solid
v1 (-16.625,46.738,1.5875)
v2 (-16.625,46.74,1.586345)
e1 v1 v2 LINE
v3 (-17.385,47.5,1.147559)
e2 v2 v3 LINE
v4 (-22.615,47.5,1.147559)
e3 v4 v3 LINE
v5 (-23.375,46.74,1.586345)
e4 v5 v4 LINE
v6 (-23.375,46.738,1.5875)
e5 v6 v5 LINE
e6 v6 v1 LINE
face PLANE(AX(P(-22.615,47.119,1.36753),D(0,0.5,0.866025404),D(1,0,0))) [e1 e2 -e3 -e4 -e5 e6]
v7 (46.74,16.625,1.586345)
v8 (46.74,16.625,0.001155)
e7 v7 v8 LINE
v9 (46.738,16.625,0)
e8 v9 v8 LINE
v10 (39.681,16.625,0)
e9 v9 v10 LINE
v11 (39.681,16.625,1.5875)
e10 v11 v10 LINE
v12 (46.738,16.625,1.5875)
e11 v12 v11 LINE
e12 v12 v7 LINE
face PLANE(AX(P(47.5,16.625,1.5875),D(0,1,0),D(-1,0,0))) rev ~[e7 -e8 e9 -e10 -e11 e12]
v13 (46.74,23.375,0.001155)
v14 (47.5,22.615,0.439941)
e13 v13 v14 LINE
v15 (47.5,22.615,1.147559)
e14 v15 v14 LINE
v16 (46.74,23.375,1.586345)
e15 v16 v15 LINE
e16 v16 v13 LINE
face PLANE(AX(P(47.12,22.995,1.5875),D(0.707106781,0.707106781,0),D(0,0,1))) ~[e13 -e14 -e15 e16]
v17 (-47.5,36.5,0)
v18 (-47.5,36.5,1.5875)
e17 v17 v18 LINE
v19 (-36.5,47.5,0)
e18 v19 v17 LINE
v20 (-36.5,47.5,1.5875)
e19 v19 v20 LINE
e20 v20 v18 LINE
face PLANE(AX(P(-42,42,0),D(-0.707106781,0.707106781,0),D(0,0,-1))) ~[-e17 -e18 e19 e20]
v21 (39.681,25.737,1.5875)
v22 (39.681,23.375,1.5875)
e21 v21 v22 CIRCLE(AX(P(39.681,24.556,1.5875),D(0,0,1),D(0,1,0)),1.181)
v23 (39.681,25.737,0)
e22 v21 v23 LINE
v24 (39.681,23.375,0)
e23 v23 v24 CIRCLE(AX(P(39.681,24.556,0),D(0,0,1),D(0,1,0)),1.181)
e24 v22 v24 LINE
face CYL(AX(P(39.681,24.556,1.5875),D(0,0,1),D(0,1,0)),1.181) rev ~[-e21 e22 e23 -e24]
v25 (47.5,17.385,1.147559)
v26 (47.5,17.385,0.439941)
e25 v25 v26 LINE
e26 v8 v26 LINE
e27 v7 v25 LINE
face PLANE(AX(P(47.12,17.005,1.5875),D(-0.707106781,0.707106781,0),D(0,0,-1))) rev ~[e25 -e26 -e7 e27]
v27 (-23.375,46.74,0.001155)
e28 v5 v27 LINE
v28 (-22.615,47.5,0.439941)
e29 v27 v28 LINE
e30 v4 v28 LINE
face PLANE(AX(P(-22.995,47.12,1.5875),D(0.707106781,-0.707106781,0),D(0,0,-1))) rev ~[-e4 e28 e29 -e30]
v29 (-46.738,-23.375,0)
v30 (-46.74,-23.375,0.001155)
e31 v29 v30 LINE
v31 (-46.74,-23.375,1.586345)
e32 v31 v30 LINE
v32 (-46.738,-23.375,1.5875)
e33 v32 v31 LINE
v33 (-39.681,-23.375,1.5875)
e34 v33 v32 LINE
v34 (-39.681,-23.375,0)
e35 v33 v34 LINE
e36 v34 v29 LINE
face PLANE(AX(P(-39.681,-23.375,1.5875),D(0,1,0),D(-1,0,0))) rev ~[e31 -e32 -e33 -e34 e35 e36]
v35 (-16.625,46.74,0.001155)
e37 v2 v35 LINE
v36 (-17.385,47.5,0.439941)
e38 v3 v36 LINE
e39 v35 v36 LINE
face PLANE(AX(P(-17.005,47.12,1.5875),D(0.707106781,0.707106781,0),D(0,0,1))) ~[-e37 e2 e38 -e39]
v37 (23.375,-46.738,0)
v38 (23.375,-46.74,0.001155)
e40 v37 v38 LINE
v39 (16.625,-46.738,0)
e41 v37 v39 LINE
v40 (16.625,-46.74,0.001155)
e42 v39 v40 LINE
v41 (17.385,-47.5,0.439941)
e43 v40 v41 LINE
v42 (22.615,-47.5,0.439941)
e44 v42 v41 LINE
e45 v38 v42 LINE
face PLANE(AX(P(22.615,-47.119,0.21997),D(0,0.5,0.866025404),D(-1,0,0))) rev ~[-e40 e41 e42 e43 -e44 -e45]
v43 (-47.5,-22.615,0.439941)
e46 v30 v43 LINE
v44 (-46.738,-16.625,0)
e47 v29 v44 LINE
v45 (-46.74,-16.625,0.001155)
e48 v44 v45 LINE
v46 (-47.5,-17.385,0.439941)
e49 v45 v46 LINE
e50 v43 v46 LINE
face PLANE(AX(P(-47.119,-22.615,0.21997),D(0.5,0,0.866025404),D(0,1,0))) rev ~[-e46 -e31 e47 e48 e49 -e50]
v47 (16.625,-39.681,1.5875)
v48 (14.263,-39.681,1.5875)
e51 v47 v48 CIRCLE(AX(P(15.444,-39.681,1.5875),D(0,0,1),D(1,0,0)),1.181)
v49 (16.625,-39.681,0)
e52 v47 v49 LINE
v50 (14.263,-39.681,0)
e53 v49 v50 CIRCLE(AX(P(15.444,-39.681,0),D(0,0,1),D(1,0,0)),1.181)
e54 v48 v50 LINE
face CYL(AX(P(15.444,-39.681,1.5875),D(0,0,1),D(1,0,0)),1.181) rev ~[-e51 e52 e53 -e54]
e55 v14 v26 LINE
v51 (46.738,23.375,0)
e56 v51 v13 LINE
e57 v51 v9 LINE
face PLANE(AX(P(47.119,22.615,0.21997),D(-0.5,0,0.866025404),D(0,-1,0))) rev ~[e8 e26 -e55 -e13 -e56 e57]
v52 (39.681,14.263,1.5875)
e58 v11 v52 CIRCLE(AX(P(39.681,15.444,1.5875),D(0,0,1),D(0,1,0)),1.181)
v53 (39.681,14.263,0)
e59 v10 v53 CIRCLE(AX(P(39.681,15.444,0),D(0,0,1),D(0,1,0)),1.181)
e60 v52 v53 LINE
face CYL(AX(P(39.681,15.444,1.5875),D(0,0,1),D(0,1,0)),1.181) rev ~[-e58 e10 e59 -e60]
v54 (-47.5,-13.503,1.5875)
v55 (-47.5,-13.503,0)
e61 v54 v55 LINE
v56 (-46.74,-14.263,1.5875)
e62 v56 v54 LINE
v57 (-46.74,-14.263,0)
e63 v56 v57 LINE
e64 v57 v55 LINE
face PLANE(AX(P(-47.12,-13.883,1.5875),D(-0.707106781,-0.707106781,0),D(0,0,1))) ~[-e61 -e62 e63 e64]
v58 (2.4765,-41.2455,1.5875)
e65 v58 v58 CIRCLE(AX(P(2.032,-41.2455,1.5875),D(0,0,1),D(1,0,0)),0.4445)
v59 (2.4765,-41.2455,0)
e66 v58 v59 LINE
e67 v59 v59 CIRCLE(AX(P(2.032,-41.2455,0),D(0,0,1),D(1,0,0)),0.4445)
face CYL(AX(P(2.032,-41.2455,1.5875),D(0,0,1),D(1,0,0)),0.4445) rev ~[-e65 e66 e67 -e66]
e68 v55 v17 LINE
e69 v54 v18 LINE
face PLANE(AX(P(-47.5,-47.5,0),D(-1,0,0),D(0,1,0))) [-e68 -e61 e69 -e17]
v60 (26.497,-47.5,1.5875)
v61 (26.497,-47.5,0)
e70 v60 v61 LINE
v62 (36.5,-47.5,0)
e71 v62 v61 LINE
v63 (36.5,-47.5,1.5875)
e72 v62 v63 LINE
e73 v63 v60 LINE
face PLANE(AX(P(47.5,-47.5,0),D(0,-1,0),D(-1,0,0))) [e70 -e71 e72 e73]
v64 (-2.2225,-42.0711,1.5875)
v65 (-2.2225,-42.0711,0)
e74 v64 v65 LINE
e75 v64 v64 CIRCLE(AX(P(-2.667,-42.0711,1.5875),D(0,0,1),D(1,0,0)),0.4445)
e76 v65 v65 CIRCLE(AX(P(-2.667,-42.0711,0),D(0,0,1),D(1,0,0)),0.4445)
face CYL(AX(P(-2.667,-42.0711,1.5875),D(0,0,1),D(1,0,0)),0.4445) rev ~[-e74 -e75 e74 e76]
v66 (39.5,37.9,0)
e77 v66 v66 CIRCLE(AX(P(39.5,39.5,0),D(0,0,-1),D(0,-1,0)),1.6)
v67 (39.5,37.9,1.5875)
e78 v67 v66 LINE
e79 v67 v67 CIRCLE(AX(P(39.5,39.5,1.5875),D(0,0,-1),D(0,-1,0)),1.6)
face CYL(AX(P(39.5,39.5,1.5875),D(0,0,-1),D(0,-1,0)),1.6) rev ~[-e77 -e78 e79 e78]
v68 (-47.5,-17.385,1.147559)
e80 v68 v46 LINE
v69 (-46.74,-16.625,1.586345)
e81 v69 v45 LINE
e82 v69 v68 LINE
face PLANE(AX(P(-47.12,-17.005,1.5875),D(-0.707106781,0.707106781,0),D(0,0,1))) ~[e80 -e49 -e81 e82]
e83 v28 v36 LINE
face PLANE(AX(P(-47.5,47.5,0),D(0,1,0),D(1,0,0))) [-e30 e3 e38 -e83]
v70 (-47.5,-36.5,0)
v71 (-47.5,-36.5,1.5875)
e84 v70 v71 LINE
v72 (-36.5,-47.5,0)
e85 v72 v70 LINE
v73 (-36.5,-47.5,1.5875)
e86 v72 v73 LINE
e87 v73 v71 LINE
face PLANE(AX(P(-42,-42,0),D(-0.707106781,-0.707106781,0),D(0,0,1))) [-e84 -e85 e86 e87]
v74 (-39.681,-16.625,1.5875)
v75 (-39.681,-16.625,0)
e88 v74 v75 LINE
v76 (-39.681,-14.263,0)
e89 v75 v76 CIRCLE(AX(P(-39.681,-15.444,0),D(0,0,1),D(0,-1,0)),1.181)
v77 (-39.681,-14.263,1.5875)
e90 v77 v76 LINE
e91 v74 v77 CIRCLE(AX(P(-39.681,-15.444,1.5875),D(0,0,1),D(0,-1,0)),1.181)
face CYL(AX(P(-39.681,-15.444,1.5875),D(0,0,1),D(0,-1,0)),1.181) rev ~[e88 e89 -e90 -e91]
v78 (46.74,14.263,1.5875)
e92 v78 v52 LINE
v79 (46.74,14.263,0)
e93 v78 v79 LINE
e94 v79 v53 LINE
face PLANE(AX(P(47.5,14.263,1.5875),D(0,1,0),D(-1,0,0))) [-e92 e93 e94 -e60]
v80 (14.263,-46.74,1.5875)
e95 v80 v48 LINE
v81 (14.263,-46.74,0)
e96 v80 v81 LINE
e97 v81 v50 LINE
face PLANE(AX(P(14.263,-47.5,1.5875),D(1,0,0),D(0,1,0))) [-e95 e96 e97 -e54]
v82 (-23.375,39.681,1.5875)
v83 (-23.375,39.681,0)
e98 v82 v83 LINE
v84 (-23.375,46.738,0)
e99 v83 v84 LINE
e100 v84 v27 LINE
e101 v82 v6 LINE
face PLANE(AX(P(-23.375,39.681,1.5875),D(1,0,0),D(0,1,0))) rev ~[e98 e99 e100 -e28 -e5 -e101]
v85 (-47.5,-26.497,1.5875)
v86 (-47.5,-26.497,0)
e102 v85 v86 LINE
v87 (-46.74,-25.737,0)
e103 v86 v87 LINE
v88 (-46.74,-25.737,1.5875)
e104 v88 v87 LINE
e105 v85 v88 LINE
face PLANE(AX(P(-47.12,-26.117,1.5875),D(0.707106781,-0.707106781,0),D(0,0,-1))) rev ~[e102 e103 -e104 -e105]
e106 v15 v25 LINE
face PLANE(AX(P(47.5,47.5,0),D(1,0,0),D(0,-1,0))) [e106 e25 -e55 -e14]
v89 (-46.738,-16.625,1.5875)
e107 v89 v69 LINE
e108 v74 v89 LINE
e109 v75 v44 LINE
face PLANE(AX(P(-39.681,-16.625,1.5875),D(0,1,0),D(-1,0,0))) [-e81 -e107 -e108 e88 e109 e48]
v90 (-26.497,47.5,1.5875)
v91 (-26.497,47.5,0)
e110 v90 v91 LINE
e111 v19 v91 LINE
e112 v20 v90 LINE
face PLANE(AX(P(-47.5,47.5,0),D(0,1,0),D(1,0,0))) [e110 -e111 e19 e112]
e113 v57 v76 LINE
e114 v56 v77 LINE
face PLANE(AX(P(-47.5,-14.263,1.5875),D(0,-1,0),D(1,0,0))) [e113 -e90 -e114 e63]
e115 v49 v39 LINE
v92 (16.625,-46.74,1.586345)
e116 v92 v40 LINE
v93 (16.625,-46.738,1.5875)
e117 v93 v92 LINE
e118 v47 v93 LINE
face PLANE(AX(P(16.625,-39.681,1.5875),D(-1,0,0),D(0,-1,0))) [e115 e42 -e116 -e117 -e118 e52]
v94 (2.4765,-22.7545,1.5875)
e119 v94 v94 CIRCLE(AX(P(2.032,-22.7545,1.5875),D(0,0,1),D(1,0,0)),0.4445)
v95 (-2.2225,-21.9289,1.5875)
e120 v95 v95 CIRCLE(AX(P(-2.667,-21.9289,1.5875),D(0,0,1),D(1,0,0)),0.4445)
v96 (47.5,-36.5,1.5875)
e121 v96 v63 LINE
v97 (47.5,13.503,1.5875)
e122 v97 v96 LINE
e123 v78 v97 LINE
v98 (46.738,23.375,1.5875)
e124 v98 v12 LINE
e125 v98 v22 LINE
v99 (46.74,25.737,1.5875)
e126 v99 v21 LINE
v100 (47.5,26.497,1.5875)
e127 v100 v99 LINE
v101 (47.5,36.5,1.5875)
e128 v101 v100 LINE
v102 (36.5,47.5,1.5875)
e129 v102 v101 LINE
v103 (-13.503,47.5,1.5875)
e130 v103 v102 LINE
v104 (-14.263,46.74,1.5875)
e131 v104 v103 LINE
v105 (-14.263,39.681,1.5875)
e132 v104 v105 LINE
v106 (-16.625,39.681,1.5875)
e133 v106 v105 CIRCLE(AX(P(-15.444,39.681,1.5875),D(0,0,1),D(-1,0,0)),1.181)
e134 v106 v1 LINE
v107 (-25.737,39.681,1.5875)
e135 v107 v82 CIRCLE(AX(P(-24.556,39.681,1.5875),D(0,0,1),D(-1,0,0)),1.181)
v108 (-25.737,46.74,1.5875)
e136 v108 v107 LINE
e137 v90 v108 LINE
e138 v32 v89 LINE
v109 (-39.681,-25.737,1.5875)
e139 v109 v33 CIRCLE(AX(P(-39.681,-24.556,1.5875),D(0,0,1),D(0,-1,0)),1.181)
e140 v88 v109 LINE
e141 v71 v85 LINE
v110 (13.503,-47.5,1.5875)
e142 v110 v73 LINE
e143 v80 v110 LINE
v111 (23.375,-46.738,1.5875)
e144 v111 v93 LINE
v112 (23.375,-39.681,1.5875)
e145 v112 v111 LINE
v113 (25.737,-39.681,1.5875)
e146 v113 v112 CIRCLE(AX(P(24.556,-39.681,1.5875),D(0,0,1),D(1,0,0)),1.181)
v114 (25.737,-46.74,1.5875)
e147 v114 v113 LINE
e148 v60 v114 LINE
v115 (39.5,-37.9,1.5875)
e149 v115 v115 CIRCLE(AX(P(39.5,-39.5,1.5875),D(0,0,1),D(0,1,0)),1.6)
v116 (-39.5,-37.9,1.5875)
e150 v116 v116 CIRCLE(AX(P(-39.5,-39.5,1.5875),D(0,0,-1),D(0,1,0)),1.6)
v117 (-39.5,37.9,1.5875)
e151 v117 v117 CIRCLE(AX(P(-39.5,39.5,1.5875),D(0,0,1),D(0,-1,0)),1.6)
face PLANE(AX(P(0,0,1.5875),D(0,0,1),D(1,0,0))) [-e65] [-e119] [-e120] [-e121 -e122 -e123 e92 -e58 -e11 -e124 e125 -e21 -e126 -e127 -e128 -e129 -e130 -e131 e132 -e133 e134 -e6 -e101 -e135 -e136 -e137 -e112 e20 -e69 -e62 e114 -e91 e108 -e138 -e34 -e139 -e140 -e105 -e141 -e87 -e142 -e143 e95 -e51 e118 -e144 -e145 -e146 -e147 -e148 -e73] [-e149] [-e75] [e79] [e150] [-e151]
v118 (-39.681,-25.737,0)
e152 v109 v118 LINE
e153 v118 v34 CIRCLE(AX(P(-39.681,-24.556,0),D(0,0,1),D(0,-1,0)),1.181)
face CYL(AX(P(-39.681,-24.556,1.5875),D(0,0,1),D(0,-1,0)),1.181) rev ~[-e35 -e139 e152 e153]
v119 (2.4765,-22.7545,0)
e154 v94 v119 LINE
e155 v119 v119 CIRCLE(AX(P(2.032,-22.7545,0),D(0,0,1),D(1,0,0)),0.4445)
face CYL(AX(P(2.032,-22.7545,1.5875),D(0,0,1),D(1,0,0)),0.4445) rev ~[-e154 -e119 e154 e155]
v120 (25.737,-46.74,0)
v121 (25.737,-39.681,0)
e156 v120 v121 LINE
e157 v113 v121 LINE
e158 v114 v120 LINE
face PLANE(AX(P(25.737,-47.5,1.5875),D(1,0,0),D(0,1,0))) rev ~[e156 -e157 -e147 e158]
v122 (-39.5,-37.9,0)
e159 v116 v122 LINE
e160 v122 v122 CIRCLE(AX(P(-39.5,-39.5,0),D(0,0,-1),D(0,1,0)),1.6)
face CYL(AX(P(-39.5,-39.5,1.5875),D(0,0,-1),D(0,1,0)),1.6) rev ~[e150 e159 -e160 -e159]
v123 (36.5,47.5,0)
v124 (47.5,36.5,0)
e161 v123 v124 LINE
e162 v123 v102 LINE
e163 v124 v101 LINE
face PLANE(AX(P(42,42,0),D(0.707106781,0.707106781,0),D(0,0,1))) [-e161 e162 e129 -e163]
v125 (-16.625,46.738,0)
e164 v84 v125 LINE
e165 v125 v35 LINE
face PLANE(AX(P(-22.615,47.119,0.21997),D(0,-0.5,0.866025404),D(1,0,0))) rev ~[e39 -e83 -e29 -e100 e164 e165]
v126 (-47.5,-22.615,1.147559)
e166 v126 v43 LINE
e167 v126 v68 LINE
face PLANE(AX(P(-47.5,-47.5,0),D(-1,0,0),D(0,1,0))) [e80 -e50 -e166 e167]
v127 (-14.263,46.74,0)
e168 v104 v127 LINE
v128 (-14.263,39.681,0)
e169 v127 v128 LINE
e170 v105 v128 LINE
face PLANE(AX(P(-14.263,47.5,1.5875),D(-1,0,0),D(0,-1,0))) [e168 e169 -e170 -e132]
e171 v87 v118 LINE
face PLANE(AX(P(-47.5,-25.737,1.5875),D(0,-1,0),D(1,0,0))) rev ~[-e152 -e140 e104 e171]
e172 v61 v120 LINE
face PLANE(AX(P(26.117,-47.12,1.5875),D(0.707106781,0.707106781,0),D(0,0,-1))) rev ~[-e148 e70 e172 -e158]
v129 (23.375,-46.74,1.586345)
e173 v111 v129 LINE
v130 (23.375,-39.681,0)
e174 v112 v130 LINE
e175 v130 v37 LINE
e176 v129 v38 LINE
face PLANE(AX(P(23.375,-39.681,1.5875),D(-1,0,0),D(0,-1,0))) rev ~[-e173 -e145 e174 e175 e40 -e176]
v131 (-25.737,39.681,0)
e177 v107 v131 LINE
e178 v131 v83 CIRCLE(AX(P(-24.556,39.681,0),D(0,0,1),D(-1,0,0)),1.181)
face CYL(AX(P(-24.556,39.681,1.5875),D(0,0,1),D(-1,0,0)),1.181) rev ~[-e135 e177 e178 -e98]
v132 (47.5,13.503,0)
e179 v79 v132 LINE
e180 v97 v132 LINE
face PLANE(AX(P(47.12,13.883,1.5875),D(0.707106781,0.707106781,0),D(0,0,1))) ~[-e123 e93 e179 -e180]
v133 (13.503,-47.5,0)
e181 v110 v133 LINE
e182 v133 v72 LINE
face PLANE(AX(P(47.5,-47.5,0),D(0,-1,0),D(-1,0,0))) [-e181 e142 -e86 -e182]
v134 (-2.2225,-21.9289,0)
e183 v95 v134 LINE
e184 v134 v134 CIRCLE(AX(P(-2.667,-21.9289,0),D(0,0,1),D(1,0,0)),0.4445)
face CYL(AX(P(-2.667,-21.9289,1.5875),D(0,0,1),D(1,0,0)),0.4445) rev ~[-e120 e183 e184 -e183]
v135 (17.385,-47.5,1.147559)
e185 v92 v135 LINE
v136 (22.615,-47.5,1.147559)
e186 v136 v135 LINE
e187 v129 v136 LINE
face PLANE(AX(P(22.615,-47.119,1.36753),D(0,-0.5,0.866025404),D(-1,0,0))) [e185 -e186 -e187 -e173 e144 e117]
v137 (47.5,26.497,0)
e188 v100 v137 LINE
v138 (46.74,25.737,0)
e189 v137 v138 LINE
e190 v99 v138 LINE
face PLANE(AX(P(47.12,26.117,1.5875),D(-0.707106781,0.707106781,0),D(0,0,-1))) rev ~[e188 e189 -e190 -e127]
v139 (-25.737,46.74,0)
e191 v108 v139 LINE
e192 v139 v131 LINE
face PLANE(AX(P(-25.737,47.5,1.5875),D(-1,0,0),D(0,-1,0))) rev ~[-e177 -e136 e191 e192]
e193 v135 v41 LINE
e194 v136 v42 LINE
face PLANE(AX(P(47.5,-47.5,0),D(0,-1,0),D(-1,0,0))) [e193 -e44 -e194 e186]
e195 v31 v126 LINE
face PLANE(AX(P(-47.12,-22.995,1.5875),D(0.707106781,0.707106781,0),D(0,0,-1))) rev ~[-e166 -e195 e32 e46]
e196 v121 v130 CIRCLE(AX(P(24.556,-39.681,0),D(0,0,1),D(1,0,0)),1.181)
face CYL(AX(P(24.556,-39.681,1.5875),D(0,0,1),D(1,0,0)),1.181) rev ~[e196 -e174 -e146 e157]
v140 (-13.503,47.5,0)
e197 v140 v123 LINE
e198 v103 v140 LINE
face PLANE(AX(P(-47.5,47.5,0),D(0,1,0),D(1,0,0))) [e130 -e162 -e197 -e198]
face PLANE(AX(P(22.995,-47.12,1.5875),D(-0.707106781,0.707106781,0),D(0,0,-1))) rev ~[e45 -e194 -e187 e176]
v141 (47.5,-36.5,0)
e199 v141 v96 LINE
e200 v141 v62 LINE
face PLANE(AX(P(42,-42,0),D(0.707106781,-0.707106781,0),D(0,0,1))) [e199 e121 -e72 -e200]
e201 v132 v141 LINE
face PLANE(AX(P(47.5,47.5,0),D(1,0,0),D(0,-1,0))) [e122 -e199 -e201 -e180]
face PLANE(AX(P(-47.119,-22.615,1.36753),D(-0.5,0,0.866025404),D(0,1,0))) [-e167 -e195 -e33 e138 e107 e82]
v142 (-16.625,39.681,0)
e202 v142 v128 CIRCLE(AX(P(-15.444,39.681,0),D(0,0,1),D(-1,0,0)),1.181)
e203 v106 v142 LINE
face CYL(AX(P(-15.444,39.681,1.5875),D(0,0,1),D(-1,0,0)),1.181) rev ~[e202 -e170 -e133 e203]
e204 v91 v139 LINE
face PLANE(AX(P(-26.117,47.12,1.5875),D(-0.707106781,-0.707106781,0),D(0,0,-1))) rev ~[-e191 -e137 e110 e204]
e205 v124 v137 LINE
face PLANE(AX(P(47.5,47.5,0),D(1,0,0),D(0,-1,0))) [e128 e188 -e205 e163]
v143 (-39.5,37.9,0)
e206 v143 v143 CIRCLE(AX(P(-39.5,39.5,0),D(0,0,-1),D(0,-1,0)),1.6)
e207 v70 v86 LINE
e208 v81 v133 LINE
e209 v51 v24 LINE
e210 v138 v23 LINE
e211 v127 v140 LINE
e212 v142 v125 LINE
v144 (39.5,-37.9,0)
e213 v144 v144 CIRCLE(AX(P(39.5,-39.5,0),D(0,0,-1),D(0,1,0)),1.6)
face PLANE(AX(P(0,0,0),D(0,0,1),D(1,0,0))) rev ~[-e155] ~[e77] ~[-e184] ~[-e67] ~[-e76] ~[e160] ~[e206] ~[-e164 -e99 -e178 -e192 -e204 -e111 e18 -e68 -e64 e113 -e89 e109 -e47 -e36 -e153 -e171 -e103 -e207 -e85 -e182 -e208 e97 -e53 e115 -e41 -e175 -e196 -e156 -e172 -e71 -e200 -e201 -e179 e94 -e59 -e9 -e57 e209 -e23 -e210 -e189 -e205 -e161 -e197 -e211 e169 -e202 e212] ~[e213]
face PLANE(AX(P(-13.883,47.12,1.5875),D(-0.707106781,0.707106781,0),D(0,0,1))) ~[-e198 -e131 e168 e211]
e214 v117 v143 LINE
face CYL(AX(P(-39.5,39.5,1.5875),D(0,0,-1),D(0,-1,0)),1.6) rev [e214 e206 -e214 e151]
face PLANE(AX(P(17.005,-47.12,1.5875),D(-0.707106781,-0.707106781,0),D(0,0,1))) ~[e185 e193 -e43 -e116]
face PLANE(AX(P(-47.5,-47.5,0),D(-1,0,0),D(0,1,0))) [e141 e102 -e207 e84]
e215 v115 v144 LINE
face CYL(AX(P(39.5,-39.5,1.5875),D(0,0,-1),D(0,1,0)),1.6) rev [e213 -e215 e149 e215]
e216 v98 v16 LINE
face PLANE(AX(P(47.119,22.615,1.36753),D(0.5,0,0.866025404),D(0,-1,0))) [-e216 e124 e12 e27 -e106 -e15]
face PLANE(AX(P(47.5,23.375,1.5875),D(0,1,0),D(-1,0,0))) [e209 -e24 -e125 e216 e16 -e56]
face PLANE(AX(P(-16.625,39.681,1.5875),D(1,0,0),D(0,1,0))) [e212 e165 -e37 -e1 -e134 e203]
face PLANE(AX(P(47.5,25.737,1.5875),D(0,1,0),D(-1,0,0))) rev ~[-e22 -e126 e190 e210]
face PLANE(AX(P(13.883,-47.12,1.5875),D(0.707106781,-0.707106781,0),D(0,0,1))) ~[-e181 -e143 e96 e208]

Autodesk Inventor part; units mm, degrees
sketch "AL_spacer_contact_Zminus" plane through (0, 0, 0) normal (0, 0, 1) x (1, 0, 0)
  circle A0 centre (39.5, 39.5) radius 3.175
  circle A1 centre (39.5, -39.5) radius 3.175
  circle A2 centre (-39.5, -39.5) radius 3.175
  circle A3 centre (-39.5, 39.5) radius 3.175
  point P0 (0, 0)
  dimension "d228" = 39.5
  dimension "d229" = 39.5
  dimension "d230" = 39.5
  dimension "d231" = 39.5
  dimension "d232" = 39.5
  dimension "d233" = 39.5
  dimension "d234" = 39.5
  dimension "d235" = 39.5
  dimension "d236" = 6.35
sketch "Delrin_stayout_Zminus" plane through (0, 0, 0) normal (0, 0, 1) x (1, 0, 0)
  line L0 (47.5, 39.5) -> (47.5, 31)
  line L1 (47.5, 31) -> (39.5, 31)
  line L2 (39.5, 31) -> (31, 39.5)
  line L3 (31, 39.5) -> (31, 47.5)
  line L4 (31, 47.5) -> (39.5, 47.5)
  line L5 (39.5, 47.5) -> (47.5, 39.5)
  line L6 (-39.5, 47.5) -> (-47.5, 39.5)
  line L7 (-47.5, 39.5) -> (-47.5, 31)
  line L8 (-47.5, 31) -> (-39.5, 31)
  line L9 (-39.5, 31) -> (-31, 39.5)
  line L10 (-31, 39.5) -> (-31, 47.5)
  line L11 (-31, 47.5) -> (-39.5, 47.5)
  line L12 (47.5, -39.5) -> (39.5, -47.5)
  line L13 (39.5, -47.5) -> (31, -47.5)
  line L14 (31, -47.5) -> (31, -39.5)
  line L15 (31, -39.5) -> (39.5, -31)
  line L16 (39.5, -31) -> (47.5, -31)
  line L17 (47.5, -31) -> (47.5, -39.5)
  line L18 (-39.5, -47.5) -> (-47.5, -39.5)
  line L19 (-47.5, -39.5) -> (-47.5, -31)
  line L20 (-47.5, -31) -> (-39.5, -31)
  line L21 (-39.5, -31) -> (-31, -39.5)
  line L22 (-31, -39.5) -> (-31, -47.5)
  line L23 (-31, -47.5) -> (-39.5, -47.5)
  point P0 (0, 0)
  dimension "d243" = 16.5
  dimension "d244" = 8
  dimension "d245" = 8.5
  dimension "d246" = 16.5
  dimension "d247" = 47.5
  dimension "d248" = 47.5
  dimension "d249" = 47.5
  dimension "d250" = 47.5
  dimension "d251" = 47.5
  dimension "d252" = 47.5
  dimension "d253" = 47.5
  dimension "d254" = 47.5
sketch "Nub_stayout_Zminus" plane through (0, 0, 0) normal (0, 0, 1) x (1, 0, 0)
  line L0 (29, 47.5) -> (39.5, 47.5)
  line L1 (39.5, 47.5) -> (47.5, 39.5)
  line L2 (47.5, 39.5) -> (47.5, 29)
  line L3 (47.5, 29) -> (42, 29)
  line L4 (42, 29) -> (42, 40.4125)
  line L5 (40.4125, 42) -> (29, 42)
  line L6 (29, 42) -> (29, 47.5)
  arc A0 (42, 40.4125) -> (40.4125, 42) centre (40.4125, 40.4125) ccw
  line L7 (-29, 47.5) -> (-39.5, 47.5)
  line L8 (-39.5, 47.5) -> (-47.5, 39.5)
  line L9 (-47.5, 39.5) -> (-47.5, 29)
  line L10 (-47.5, 29) -> (-42, 29)
  line L11 (-42, 29) -> (-42, 40.4125)
  line L12 (-40.4125, 42) -> (-29, 42)
  line L13 (-29, 42) -> (-29, 47.5)
  arc A1 (-40.4125, 42) -> (-42, 40.4125) centre (-40.4125, 40.4125) ccw
  line L14 (-47.5, -29) -> (-42, -29)
  line L15 (-42, -29) -> (-42, -40.4125)
  line L16 (-40.4125, -42) -> (-29, -42)
  line L17 (-29, -42) -> (-29, -47.5)
  line L18 (-29, -47.5) -> (-39.5, -47.5)
  line L19 (-39.5, -47.5) -> (-47.5, -39.5)
  line L20 (-47.5, -39.5) -> (-47.5, -29)
  arc A2 (-42, -40.4125) -> (-40.4125, -42) centre (-40.4125, -40.4125) ccw
  line L21 (47.5, -29) -> (42, -29)
  line L22 (42, -29) -> (42, -40.4125)
  line L23 (40.4125, -42) -> (29, -42)
  line L24 (29, -42) -> (29, -47.5)
  line L25 (29, -47.5) -> (39.5, -47.5)
  line L26 (39.5, -47.5) -> (47.5, -39.5)
  line L27 (47.5, -39.5) -> (47.5, -29)
  arc A3 (40.4125, -42) -> (42, -40.4125) centre (40.4125, -40.4125) ccw
  point P0 (0, 0)
  dimension "d255" = 1.5875
  dimension "d256" = 18.5
  dimension "d257" = 8
  dimension "d258" = 5.5
  dimension "d259" = 47.5
  dimension "d260" = 47.5
  dimension "d264" = 1.5875
  dimension "d265" = 47.5
  dimension "d266" = 47.5
  dimension "d267" = 1.5875
  dimension "d268" = 47.5
  dimension "d269" = 47.5
  dimension "d270" = 1.5875
  dimension "d271" = 47.5
  dimension "d272" = 47.5
ref_plane "Zplus_face" through (0, 0, 1.5875) normal (0, 0, 1) x (1, 0, 0)
sketch "AL_spacer_contact_Zplus" plane through (0, 0, 1.5875) normal (0, 0, 1) x (1, 0, 0)
  circle A0 centre (-39.5, 39.5) radius 3.175
  circle A1 centre (-39.5, -39.5) radius 3.175
  circle A2 centre (39.5, -39.5) radius 3.175
  circle A3 centre (39.5, 39.5) radius 3.175
  point P0 (0, 0)
  dimension "d129" = 39.5
  dimension "d130" = 39.5
  dimension "d131" = 39.5
  dimension "d132" = 39.5
  dimension "d133" = 6.35
sketch "Delrin_stayout_Zplus" plane through (0, 0, 1.5875) normal (0, 0, 1) x (1, 0, 0)
  line L0 (47.5, -31) -> (47.5, -39.5)
  line L1 (47.5, -39.5) -> (39.5, -47.5)
  line L2 (39.5, -47.5) -> (31, -47.5)
  line L3 (31, -47.5) -> (31, -39.5)
  line L4 (31, -39.5) -> (39.5, -31)
  line L5 (39.5, -31) -> (47.5, -31)
  line L6 (47.5, 31) -> (47.5, 39.5)
  line L7 (47.5, 39.5) -> (39.5, 47.5)
  line L8 (39.5, 47.5) -> (31, 47.5)
  line L9 (31, 47.5) -> (31, 39.5)
  line L10 (31, 39.5) -> (39.5, 31)
  line L11 (39.5, 31) -> (47.5, 31)
  line L12 (-39.5, 47.5) -> (-47.5, 39.5)
  line L13 (-47.5, 39.5) -> (-47.5, 31)
  line L14 (-47.5, 31) -> (-39.5, 31)
  line L15 (-39.5, 31) -> (-31, 39.5)
  line L16 (-31, 39.5) -> (-31, 47.5)
  line L17 (-31, 47.5) -> (-39.5, 47.5)
  line L18 (-47.5, -39.5) -> (-39.5, -47.5)
  line L19 (-39.5, -47.5) -> (-31, -47.5)
  line L20 (-31, -47.5) -> (-31, -39.5)
  line L21 (-31, -39.5) -> (-39.5, -31)
  line L22 (-39.5, -31) -> (-47.5, -31)
  line L23 (-47.5, -31) -> (-47.5, -39.5)
  point P0 (0, 0)
  dimension "d115" = 16.5
  dimension "d116" = 16.5
  dimension "d117" = 8
  dimension "d118" = 8.5
  dimension "d121" = 47.5
  dimension "d122" = 47.5
  dimension "d123" = 47.5
  dimension "d124" = 47.5
  dimension "d125" = 47.5
  dimension "d126" = 47.5
  dimension "d127" = 47.5
  dimension "d128" = 47.5
sketch "Nub_stayout_Zplus" plane through (0, 0, 1.5875) normal (0, 0, 1) x (1, 0, 0)
  line L0 (47.5, 29) -> (42, 29)
  line L1 (42, 29) -> (42, 40.4125)
  line L2 (40.4125, 42) -> (29, 42)
  line L3 (29, 42) -> (29, 47.5)
  arc A0 (42, 40.4125) -> (40.4125, 42) centre (40.4125, 40.4125) ccw
  line L4 (29, 47.5) -> (39.5, 47.5)
  line L5 (39.5, 47.5) -> (47.5, 39.5)
  line L6 (47.5, 39.5) -> (47.5, 29)
  line L7 (-39.5, 47.5) -> (-29, 47.5)
  line L8 (-29, 47.5) -> (-29, 42)
  line L9 (-29, 42) -> (-40.4125, 42)
  line L10 (-42, 40.4125) -> (-42, 29)
  line L11 (-42, 29) -> (-47.5, 29)
  line L12 (-47.5, 29) -> (-47.5, 39.5)
  line L13 (-47.5, 39.5) -> (-39.5, 47.5)
  arc A1 (-40.4125, 42) -> (-42, 40.4125) centre (-40.4125, 40.4125) ccw
  line L14 (-47.5, -29) -> (-47.5, -39.5)
  line L15 (-47.5, -39.5) -> (-39.5, -47.5)
  line L16 (-39.5, -47.5) -> (-29, -47.5)
  line L17 (-29, -47.5) -> (-29, -42)
  line L18 (-29, -42) -> (-40.4125, -42)
  line L19 (-42, -40.4125) -> (-42, -29)
  line L20 (-42, -29) -> (-47.5, -29)
  arc A2 (-42, -40.4125) -> (-40.4125, -42) centre (-40.4125, -40.4125) ccw
  line L21 (29, -47.5) -> (39.5, -47.5)
  line L22 (39.5, -47.5) -> (47.5, -39.5)
  line L23 (47.5, -39.5) -> (47.5, -29)
  line L24 (47.5, -29) -> (42, -29)
  line L25 (42, -29) -> (42, -40.4125)
  line L26 (40.4125, -42) -> (29, -42)
  line L27 (29, -42) -> (29, -47.5)
  arc A3 (40.4125, -42) -> (42, -40.4125) centre (40.4125, -40.4125) ccw
  point P0 (0, 0)
  dimension "d146" = 1.5875
  dimension "d147" = 5.5
  dimension "d149" = 18.5
  dimension "d150" = 8
  dimension "d151" = 47.5
  dimension "d152" = 47.5
  dimension "d153" = 1.5875
  dimension "d154" = 47.5
  dimension "d155" = 47.5
  dimension "d156" = 1.5875
  dimension "d157" = 47.5
  dimension "d158" = 47.5
  dimension "d159" = 1.5875
  dimension "d160" = 47.5
  dimension "d161" = 47.5
sketch "Sketch1" plane through (0, 0, 0) normal (0, 0, 1) x (1, 0, 0)
  line L0 (-47.5, 47.5) -> (47.5, 47.5)
  line L1 (47.5, 47.5) -> (47.5, -47.5)
  line L2 (47.5, -47.5) -> (-47.5, -47.5)
  line L3 (-47.5, -47.5) -> (-47.5, 47.5)
  point P0 (0, 0)
  dimension "d0" = 95
  dimension "d1" = 95
  dimension "d2" = 47.5
  dimension "d3" = 47.5
extrude "Extrusion1" add sketch "Sketch1" along normal blind 1.5875
chamfer "Chamfer2" distance 11 angle 45 4 edges at (-47.5, -47.5, 0.7937) (47.5, -47.5, 0.7937) (47.5, 47.5, 0.7937) (-47.5, 47.5, 0.7937)
ref_plane "Work Plane_ConnX" through (-32, 0, 0) normal (1, 0, 0) x (0, 1, 0)
ref_plane "Work Plane_ConnY" through (0, 0, 0) normal (0, 1, 0) x (-1, 0, 0)
sketch "Sketch9" plane through (0, 0, 1.5875) normal (0, 0, 1) x (1, 0, 0)
  line L0 (47.5, 47.5) -> (47.5, -47.5) projected
  line L1 (58.5598, -32) -> (-58.5598, -32)
  circle A0 centre (-2.667, -21.9289) radius 0.4445
  circle A1 centre (-2.667, -42.0711) radius 0.4445
  line L2 (0, 26.5598) -> (0, -90.5598) construction
  point P0 (0, 0)
  point P1 (0, -32)
  dimension "d134" = 20.1422
  dimension "d136" = 2.667
  dimension "d138" = 0.889
  dimension "d141" = 180
  dimension "d350" = 32
  dimension "d351" = 0
extrude "Holes_Conn_Zminus" cut sketch "Sketch9" against normal through all
sketch "Sketch22" plane through (0, 0, 1.5875) normal (0, 0, 1) x (1, 0, 0)
  line L0 (47.5, 36.5) -> (47.5, -36.5) projected
  line L1 (0, -1.0026) -> (0, -62.9974) construction
  line L2 (62.8115, -32) -> (-62.8115, -32)
  circle A0 centre (2.032, -22.7545) radius 0.4445
  circle A1 centre (2.032, -41.2455) radius 0.4445
  point P0 (0, 0)
  point P1 (0, -32)
  dimension "d282" = 180
  dimension "d283" = 18.491
  dimension "d284" = 0.889
  dimension "d285" = 2.032
  dimension "d352" = 32
  dimension "d353" = 0
extrude "Holes_Conn_Zplus" cut sketch "Sketch22" against normal through all
hole "Hole5" at (39.5, 39.5, 1.5875) direction (0, 0, -1) diameter 3.2 end through all
mirror "Mirror5" about plane through (0, 0, 0) normal (1, 0, 0) of "Hole5"
mirror "Mirror6" about plane through (0, 0, 0) normal (0, 1, 0) of "Hole5", "Mirror5"
sketch "Sketch25" plane through (0, 0, 1.5875) normal (0, 0, 1) x (1, 0, 0)
  circle A0 centre (-39.5, -39.5) radius 1.6 projected
  circle A1 centre (39.5, -39.5) radius 1.6 projected
  circle A2 centre (-39.5, 39.5) radius 1.6 projected
  circle A3 centre (39.5, 39.5) radius 1.6 projected
  line L0 (36.5, -47.5) -> (-36.5, -47.5) projected
  line L1 (0, 0) -> (0, -59.2198)
  line L2 (8, -47.5) -> (8, -15.5)
  line L3 (8, -15.5) -> (-8, -15.5)
  line L4 (-8, -15.5) -> (-8, -47.5)
  line L5 (-8, -47.5) -> (-62.7516, -61.7336)
  line L6 (-62.7516, -61.7336) -> (-64.2933, 68.2222)
  line L7 (-64.2933, 68.2222) -> (58.3572, 62.5728)
  line L8 (58.3572, 62.5728) -> (56.5848, -69.017)
  line L9 (56.5848, -69.017) -> (8, -47.5)
  dimension "d362" = 16
  dimension "d363" = 32
extrude "Extrusion9" [suppressed]
ref_plane "Work Plane4" through (0, 25, 0) normal (0, 1, 0) x (-1, 0, 0)
sketch "Sketch26" plane through (0, 0, 1.5875) normal (0, 0, 1) x (1, 0, 0)
  line L0 (47.5, 36.5) -> (47.5, -36.5) projected
  line L1 (52.6018, 20) -> (36.5, 20)
  line L2 (47.5, 23.375) -> (39.681, 23.375)
  line L3 (47.5, 23.375) -> (47.5, 25.737)
  line L4 (47.5, 25.737) -> (39.681, 25.737)
  arc A0 (39.681, 25.737) -> (39.681, 23.375) centre (39.681, 24.556) ccw
  line L5 (47.5, 16.625) -> (39.681, 16.625)
  line L6 (47.5, 16.625) -> (47.5, 14.263)
  line L7 (47.5, 14.263) -> (39.681, 14.263)
  arc A1 (39.681, 16.625) -> (39.681, 14.263) centre (39.681, 15.444) ccw
  point P0 (0, 0)
  point P1 (0, 20)
  dimension "d366" = 20
  dimension "d367" = 2.362
  dimension "d368" = 9
  dimension "d370" = 6.75
extrude "Extrusion10" cut sketch "Sketch26" against normal through all
chamfer "Chamfer4" distance 0.76 angle 45 4 edges at (47.5, 23.375, 0.7937) (47.5, 16.625, 0.7937) (47.5, 14.263, 0.7937) (47.5, 25.737, 0.7937)
chamfer "Chamfer5" distance 0.762 angle 30 1 edges at (47.5, 20, 1.5875) measured on face at (-0.7627, 10.8966, 1.5875)
chamfer "Chamfer6" distance 0.762 angle 30 1 edges at (47.5, 20, 0) measured on face at (-0.7627, 10.8966, 0)
ref_plane "Work Plane5" through (25, 0, 0) normal (1, 0, 0) x (0, 1, 0)
sketch "Sketch27" plane through (0, 0, 1.5875) normal (0, 0, 1) x (1, 0, 0)
  line L0 (36.5, -47.5) -> (-36.5, -47.5) projected
  line L1 (20, -62.2125) -> (20, -34.4523)
  line L2 (23.375, -39.681) -> (23.375, -47.5)
  line L3 (23.375, -47.5) -> (25.737, -47.5)
  line L4 (25.737, -47.5) -> (25.737, -39.681)
  arc A0 (25.737, -39.681) -> (23.375, -39.681) centre (24.556, -39.681) ccw
  line L5 (16.625, -39.681) -> (16.625, -47.5)
  line L6 (16.625, -47.5) -> (14.263, -47.5)
  line L7 (14.263, -47.5) -> (14.263, -39.681)
  arc A1 (16.625, -39.681) -> (14.263, -39.681) centre (15.444, -39.681) ccw
  point P0 (0, 0)
  point P1 (20, 0)
  dimension "d383" = 20
  dimension "d384" = 6.75
  dimension "d386" = 9
  dimension "d387" = 2.362
extrude "Extrusion11" cut sketch "Sketch27" against normal through all
chamfer "Chamfer7" distance 0.76 angle 45 4 edges at (14.263, -47.5, 0.7937) (16.625, -47.5, 0.7937) (23.375, -47.5, 0.7937) (25.737, -47.5, 0.7937)
chamfer "Chamfer8" distance 0.762 angle 30 1 edges at (20, -47.5, 1.5875) measured on face at (-0.7627, 10.8966, 1.5875)
chamfer "Chamfer9" distance 0.762 angle 30 1 edges at (20, -47.5, 0) measured on face at (-0.7627, 10.8966, 0)
ref_plane "Work Plane6" through (0, -25, 0) normal (0, 1, 0) x (-1, 0, 0)
sketch "Sketch28" plane through (0, 0, 1.5875) normal (0, 0, 1) x (1, 0, 0)
  line L0 (-47.5, -36.5) -> (-47.5, 36.5) projected
  line L1 (-54.8364, -20) -> (-37.2879, -20)
  line L2 (-39.681, -23.375) -> (-47.5, -23.375)
  line L3 (-47.5, -23.375) -> (-47.5, -25.737)
  line L4 (-47.5, -25.737) -> (-39.681, -25.737)
  arc A0 (-39.681, -25.737) -> (-39.681, -23.375) centre (-39.681, -24.556) ccw
  line L5 (-39.681, -16.625) -> (-47.5, -16.625)
  line L6 (-47.5, -16.625) -> (-47.5, -14.263)
  line L7 (-47.5, -14.263) -> (-39.681, -14.263)
  arc A1 (-39.681, -16.625) -> (-39.681, -14.263) centre (-39.681, -15.444) ccw
  point P0 (0, 0)
  point P1 (0, -20)
  dimension "d400" = 20
  dimension "d401" = 9
  dimension "d402" = 6.75
  dimension "d403" = 2.362
extrude "Extrusion12" cut sketch "Sketch28" against normal through all
chamfer "Chamfer10" distance 0.76 angle 45 4 edges at (-47.5, -14.263, 0.7937) (-47.5, -16.625, 0.7937) (-47.5, -23.375, 0.7937) (-47.5, -25.737, 0.7937)
chamfer "Chamfer11" distance 0.762 angle 30 1 edges at (-47.5, -20, 1.5875) measured on face at (-0.7627, 10.8966, 1.5875)
chamfer "Chamfer12" distance 0.762 angle 30 1 edges at (-47.5, -20, 0) measured on face at (-0.7627, 10.8966, 0)
ref_plane "Work Plane7" through (-25, 0, 0) normal (1, 0, 0) x (0, 1, 0)
sketch "Sketch29" plane through (0, 0, 1.5875) normal (0, 0, 1) x (1, 0, 0)
  line L0 (-36.5, 47.5) -> (36.5, 47.5) projected
  line L1 (-20, 52.223) -> (-20, 33.9375)
  line L2 (-23.375, 39.681) -> (-23.375, 47.5)
  line L3 (-23.375, 47.5) -> (-25.737, 47.5)
  line L4 (-25.737, 47.5) -> (-25.737, 39.681)
  arc A0 (-25.737, 39.681) -> (-23.375, 39.681) centre (-24.556, 39.681) ccw
  line L5 (-16.625, 39.681) -> (-16.625, 47.5)
  line L6 (-16.625, 47.5) -> (-14.263, 47.5)
  line L7 (-14.263, 47.5) -> (-14.263, 39.681)
  arc A1 (-16.625, 39.681) -> (-14.263, 39.681) centre (-15.444, 39.681) ccw
  point P0 (0, 0)
  point P1 (-20, 0)
  dimension "d416" = 20
  dimension "d417" = 9
  dimension "d418" = 6.75
  dimension "d419" = 2.362
extrude "Extrusion13" cut sketch "Sketch29" against normal through all
chamfer "Chamfer13" distance 0.76 angle 45 4 edges at (-14.263, 47.5, 0.7937) (-16.625, 47.5, 0.7937) (-23.375, 47.5, 0.7937) (-25.737, 47.5, 0.7937)
chamfer "Chamfer14" distance 0.762 angle 30 1 edges at (-20, 47.5, 1.5875) measured on face at (7.0407, 10.841, 1.5875)
chamfer "Chamfer15" distance 0.762 angle 30 1 edges at (-20, 47.5, 0) measured on face at (7.0407, 10.841, 0)
sketch "Sketch30" plane through (0, 0, 1.5875) normal (0, 0, 1) x (1, 0, 0)
  line L0 (-47.5, -36.5) -> (-47.5, -26.497) projected
  line L1 (13.503, -47.5) -> (-36.5, -47.5) projected
  line L2 (47.5, 36.5) -> (47.5, 26.497) projected
  line L3 (-13.503, 47.5) -> (36.5, 47.5) projected
  line L4 (-47.5, 47.5) -> (47.5, 47.5) construction
  line L5 (47.5, 47.5) -> (47.5, -47.5) construction
  line L6 (47.5, -47.5) -> (-47.5, -47.5) construction
  line L7 (-47.5, -47.5) -> (-47.5, 47.5) construction
  point P0 (0, 0)
decal "Decal1"
sketch "Sketch31" plane through (0, 0, 0) normal (0, 0, -1) x (-1, 0, 0)
  line L0 (-47.5, 13.503) -> (-47.5, -36.5) projected
  line L1 (-36.5, -47.5) -> (-26.497, -47.5) projected
  line L2 (47.5, -13.503) -> (47.5, 36.5) projected
  line L3 (36.5, 47.5) -> (26.497, 47.5) projected
  line L4 (-47.5, 47.5) -> (47.5, 47.5) construction
  line L5 (47.5, 47.5) -> (47.5, -47.5) construction
  line L6 (47.5, -47.5) -> (-47.5, -47.5) construction
  line L7 (-47.5, -47.5) -> (-47.5, 47.5) construction
  point P0 (0, 0)
decal "Decal2"
properties part number "PCB_Batt1" material "FR4"
